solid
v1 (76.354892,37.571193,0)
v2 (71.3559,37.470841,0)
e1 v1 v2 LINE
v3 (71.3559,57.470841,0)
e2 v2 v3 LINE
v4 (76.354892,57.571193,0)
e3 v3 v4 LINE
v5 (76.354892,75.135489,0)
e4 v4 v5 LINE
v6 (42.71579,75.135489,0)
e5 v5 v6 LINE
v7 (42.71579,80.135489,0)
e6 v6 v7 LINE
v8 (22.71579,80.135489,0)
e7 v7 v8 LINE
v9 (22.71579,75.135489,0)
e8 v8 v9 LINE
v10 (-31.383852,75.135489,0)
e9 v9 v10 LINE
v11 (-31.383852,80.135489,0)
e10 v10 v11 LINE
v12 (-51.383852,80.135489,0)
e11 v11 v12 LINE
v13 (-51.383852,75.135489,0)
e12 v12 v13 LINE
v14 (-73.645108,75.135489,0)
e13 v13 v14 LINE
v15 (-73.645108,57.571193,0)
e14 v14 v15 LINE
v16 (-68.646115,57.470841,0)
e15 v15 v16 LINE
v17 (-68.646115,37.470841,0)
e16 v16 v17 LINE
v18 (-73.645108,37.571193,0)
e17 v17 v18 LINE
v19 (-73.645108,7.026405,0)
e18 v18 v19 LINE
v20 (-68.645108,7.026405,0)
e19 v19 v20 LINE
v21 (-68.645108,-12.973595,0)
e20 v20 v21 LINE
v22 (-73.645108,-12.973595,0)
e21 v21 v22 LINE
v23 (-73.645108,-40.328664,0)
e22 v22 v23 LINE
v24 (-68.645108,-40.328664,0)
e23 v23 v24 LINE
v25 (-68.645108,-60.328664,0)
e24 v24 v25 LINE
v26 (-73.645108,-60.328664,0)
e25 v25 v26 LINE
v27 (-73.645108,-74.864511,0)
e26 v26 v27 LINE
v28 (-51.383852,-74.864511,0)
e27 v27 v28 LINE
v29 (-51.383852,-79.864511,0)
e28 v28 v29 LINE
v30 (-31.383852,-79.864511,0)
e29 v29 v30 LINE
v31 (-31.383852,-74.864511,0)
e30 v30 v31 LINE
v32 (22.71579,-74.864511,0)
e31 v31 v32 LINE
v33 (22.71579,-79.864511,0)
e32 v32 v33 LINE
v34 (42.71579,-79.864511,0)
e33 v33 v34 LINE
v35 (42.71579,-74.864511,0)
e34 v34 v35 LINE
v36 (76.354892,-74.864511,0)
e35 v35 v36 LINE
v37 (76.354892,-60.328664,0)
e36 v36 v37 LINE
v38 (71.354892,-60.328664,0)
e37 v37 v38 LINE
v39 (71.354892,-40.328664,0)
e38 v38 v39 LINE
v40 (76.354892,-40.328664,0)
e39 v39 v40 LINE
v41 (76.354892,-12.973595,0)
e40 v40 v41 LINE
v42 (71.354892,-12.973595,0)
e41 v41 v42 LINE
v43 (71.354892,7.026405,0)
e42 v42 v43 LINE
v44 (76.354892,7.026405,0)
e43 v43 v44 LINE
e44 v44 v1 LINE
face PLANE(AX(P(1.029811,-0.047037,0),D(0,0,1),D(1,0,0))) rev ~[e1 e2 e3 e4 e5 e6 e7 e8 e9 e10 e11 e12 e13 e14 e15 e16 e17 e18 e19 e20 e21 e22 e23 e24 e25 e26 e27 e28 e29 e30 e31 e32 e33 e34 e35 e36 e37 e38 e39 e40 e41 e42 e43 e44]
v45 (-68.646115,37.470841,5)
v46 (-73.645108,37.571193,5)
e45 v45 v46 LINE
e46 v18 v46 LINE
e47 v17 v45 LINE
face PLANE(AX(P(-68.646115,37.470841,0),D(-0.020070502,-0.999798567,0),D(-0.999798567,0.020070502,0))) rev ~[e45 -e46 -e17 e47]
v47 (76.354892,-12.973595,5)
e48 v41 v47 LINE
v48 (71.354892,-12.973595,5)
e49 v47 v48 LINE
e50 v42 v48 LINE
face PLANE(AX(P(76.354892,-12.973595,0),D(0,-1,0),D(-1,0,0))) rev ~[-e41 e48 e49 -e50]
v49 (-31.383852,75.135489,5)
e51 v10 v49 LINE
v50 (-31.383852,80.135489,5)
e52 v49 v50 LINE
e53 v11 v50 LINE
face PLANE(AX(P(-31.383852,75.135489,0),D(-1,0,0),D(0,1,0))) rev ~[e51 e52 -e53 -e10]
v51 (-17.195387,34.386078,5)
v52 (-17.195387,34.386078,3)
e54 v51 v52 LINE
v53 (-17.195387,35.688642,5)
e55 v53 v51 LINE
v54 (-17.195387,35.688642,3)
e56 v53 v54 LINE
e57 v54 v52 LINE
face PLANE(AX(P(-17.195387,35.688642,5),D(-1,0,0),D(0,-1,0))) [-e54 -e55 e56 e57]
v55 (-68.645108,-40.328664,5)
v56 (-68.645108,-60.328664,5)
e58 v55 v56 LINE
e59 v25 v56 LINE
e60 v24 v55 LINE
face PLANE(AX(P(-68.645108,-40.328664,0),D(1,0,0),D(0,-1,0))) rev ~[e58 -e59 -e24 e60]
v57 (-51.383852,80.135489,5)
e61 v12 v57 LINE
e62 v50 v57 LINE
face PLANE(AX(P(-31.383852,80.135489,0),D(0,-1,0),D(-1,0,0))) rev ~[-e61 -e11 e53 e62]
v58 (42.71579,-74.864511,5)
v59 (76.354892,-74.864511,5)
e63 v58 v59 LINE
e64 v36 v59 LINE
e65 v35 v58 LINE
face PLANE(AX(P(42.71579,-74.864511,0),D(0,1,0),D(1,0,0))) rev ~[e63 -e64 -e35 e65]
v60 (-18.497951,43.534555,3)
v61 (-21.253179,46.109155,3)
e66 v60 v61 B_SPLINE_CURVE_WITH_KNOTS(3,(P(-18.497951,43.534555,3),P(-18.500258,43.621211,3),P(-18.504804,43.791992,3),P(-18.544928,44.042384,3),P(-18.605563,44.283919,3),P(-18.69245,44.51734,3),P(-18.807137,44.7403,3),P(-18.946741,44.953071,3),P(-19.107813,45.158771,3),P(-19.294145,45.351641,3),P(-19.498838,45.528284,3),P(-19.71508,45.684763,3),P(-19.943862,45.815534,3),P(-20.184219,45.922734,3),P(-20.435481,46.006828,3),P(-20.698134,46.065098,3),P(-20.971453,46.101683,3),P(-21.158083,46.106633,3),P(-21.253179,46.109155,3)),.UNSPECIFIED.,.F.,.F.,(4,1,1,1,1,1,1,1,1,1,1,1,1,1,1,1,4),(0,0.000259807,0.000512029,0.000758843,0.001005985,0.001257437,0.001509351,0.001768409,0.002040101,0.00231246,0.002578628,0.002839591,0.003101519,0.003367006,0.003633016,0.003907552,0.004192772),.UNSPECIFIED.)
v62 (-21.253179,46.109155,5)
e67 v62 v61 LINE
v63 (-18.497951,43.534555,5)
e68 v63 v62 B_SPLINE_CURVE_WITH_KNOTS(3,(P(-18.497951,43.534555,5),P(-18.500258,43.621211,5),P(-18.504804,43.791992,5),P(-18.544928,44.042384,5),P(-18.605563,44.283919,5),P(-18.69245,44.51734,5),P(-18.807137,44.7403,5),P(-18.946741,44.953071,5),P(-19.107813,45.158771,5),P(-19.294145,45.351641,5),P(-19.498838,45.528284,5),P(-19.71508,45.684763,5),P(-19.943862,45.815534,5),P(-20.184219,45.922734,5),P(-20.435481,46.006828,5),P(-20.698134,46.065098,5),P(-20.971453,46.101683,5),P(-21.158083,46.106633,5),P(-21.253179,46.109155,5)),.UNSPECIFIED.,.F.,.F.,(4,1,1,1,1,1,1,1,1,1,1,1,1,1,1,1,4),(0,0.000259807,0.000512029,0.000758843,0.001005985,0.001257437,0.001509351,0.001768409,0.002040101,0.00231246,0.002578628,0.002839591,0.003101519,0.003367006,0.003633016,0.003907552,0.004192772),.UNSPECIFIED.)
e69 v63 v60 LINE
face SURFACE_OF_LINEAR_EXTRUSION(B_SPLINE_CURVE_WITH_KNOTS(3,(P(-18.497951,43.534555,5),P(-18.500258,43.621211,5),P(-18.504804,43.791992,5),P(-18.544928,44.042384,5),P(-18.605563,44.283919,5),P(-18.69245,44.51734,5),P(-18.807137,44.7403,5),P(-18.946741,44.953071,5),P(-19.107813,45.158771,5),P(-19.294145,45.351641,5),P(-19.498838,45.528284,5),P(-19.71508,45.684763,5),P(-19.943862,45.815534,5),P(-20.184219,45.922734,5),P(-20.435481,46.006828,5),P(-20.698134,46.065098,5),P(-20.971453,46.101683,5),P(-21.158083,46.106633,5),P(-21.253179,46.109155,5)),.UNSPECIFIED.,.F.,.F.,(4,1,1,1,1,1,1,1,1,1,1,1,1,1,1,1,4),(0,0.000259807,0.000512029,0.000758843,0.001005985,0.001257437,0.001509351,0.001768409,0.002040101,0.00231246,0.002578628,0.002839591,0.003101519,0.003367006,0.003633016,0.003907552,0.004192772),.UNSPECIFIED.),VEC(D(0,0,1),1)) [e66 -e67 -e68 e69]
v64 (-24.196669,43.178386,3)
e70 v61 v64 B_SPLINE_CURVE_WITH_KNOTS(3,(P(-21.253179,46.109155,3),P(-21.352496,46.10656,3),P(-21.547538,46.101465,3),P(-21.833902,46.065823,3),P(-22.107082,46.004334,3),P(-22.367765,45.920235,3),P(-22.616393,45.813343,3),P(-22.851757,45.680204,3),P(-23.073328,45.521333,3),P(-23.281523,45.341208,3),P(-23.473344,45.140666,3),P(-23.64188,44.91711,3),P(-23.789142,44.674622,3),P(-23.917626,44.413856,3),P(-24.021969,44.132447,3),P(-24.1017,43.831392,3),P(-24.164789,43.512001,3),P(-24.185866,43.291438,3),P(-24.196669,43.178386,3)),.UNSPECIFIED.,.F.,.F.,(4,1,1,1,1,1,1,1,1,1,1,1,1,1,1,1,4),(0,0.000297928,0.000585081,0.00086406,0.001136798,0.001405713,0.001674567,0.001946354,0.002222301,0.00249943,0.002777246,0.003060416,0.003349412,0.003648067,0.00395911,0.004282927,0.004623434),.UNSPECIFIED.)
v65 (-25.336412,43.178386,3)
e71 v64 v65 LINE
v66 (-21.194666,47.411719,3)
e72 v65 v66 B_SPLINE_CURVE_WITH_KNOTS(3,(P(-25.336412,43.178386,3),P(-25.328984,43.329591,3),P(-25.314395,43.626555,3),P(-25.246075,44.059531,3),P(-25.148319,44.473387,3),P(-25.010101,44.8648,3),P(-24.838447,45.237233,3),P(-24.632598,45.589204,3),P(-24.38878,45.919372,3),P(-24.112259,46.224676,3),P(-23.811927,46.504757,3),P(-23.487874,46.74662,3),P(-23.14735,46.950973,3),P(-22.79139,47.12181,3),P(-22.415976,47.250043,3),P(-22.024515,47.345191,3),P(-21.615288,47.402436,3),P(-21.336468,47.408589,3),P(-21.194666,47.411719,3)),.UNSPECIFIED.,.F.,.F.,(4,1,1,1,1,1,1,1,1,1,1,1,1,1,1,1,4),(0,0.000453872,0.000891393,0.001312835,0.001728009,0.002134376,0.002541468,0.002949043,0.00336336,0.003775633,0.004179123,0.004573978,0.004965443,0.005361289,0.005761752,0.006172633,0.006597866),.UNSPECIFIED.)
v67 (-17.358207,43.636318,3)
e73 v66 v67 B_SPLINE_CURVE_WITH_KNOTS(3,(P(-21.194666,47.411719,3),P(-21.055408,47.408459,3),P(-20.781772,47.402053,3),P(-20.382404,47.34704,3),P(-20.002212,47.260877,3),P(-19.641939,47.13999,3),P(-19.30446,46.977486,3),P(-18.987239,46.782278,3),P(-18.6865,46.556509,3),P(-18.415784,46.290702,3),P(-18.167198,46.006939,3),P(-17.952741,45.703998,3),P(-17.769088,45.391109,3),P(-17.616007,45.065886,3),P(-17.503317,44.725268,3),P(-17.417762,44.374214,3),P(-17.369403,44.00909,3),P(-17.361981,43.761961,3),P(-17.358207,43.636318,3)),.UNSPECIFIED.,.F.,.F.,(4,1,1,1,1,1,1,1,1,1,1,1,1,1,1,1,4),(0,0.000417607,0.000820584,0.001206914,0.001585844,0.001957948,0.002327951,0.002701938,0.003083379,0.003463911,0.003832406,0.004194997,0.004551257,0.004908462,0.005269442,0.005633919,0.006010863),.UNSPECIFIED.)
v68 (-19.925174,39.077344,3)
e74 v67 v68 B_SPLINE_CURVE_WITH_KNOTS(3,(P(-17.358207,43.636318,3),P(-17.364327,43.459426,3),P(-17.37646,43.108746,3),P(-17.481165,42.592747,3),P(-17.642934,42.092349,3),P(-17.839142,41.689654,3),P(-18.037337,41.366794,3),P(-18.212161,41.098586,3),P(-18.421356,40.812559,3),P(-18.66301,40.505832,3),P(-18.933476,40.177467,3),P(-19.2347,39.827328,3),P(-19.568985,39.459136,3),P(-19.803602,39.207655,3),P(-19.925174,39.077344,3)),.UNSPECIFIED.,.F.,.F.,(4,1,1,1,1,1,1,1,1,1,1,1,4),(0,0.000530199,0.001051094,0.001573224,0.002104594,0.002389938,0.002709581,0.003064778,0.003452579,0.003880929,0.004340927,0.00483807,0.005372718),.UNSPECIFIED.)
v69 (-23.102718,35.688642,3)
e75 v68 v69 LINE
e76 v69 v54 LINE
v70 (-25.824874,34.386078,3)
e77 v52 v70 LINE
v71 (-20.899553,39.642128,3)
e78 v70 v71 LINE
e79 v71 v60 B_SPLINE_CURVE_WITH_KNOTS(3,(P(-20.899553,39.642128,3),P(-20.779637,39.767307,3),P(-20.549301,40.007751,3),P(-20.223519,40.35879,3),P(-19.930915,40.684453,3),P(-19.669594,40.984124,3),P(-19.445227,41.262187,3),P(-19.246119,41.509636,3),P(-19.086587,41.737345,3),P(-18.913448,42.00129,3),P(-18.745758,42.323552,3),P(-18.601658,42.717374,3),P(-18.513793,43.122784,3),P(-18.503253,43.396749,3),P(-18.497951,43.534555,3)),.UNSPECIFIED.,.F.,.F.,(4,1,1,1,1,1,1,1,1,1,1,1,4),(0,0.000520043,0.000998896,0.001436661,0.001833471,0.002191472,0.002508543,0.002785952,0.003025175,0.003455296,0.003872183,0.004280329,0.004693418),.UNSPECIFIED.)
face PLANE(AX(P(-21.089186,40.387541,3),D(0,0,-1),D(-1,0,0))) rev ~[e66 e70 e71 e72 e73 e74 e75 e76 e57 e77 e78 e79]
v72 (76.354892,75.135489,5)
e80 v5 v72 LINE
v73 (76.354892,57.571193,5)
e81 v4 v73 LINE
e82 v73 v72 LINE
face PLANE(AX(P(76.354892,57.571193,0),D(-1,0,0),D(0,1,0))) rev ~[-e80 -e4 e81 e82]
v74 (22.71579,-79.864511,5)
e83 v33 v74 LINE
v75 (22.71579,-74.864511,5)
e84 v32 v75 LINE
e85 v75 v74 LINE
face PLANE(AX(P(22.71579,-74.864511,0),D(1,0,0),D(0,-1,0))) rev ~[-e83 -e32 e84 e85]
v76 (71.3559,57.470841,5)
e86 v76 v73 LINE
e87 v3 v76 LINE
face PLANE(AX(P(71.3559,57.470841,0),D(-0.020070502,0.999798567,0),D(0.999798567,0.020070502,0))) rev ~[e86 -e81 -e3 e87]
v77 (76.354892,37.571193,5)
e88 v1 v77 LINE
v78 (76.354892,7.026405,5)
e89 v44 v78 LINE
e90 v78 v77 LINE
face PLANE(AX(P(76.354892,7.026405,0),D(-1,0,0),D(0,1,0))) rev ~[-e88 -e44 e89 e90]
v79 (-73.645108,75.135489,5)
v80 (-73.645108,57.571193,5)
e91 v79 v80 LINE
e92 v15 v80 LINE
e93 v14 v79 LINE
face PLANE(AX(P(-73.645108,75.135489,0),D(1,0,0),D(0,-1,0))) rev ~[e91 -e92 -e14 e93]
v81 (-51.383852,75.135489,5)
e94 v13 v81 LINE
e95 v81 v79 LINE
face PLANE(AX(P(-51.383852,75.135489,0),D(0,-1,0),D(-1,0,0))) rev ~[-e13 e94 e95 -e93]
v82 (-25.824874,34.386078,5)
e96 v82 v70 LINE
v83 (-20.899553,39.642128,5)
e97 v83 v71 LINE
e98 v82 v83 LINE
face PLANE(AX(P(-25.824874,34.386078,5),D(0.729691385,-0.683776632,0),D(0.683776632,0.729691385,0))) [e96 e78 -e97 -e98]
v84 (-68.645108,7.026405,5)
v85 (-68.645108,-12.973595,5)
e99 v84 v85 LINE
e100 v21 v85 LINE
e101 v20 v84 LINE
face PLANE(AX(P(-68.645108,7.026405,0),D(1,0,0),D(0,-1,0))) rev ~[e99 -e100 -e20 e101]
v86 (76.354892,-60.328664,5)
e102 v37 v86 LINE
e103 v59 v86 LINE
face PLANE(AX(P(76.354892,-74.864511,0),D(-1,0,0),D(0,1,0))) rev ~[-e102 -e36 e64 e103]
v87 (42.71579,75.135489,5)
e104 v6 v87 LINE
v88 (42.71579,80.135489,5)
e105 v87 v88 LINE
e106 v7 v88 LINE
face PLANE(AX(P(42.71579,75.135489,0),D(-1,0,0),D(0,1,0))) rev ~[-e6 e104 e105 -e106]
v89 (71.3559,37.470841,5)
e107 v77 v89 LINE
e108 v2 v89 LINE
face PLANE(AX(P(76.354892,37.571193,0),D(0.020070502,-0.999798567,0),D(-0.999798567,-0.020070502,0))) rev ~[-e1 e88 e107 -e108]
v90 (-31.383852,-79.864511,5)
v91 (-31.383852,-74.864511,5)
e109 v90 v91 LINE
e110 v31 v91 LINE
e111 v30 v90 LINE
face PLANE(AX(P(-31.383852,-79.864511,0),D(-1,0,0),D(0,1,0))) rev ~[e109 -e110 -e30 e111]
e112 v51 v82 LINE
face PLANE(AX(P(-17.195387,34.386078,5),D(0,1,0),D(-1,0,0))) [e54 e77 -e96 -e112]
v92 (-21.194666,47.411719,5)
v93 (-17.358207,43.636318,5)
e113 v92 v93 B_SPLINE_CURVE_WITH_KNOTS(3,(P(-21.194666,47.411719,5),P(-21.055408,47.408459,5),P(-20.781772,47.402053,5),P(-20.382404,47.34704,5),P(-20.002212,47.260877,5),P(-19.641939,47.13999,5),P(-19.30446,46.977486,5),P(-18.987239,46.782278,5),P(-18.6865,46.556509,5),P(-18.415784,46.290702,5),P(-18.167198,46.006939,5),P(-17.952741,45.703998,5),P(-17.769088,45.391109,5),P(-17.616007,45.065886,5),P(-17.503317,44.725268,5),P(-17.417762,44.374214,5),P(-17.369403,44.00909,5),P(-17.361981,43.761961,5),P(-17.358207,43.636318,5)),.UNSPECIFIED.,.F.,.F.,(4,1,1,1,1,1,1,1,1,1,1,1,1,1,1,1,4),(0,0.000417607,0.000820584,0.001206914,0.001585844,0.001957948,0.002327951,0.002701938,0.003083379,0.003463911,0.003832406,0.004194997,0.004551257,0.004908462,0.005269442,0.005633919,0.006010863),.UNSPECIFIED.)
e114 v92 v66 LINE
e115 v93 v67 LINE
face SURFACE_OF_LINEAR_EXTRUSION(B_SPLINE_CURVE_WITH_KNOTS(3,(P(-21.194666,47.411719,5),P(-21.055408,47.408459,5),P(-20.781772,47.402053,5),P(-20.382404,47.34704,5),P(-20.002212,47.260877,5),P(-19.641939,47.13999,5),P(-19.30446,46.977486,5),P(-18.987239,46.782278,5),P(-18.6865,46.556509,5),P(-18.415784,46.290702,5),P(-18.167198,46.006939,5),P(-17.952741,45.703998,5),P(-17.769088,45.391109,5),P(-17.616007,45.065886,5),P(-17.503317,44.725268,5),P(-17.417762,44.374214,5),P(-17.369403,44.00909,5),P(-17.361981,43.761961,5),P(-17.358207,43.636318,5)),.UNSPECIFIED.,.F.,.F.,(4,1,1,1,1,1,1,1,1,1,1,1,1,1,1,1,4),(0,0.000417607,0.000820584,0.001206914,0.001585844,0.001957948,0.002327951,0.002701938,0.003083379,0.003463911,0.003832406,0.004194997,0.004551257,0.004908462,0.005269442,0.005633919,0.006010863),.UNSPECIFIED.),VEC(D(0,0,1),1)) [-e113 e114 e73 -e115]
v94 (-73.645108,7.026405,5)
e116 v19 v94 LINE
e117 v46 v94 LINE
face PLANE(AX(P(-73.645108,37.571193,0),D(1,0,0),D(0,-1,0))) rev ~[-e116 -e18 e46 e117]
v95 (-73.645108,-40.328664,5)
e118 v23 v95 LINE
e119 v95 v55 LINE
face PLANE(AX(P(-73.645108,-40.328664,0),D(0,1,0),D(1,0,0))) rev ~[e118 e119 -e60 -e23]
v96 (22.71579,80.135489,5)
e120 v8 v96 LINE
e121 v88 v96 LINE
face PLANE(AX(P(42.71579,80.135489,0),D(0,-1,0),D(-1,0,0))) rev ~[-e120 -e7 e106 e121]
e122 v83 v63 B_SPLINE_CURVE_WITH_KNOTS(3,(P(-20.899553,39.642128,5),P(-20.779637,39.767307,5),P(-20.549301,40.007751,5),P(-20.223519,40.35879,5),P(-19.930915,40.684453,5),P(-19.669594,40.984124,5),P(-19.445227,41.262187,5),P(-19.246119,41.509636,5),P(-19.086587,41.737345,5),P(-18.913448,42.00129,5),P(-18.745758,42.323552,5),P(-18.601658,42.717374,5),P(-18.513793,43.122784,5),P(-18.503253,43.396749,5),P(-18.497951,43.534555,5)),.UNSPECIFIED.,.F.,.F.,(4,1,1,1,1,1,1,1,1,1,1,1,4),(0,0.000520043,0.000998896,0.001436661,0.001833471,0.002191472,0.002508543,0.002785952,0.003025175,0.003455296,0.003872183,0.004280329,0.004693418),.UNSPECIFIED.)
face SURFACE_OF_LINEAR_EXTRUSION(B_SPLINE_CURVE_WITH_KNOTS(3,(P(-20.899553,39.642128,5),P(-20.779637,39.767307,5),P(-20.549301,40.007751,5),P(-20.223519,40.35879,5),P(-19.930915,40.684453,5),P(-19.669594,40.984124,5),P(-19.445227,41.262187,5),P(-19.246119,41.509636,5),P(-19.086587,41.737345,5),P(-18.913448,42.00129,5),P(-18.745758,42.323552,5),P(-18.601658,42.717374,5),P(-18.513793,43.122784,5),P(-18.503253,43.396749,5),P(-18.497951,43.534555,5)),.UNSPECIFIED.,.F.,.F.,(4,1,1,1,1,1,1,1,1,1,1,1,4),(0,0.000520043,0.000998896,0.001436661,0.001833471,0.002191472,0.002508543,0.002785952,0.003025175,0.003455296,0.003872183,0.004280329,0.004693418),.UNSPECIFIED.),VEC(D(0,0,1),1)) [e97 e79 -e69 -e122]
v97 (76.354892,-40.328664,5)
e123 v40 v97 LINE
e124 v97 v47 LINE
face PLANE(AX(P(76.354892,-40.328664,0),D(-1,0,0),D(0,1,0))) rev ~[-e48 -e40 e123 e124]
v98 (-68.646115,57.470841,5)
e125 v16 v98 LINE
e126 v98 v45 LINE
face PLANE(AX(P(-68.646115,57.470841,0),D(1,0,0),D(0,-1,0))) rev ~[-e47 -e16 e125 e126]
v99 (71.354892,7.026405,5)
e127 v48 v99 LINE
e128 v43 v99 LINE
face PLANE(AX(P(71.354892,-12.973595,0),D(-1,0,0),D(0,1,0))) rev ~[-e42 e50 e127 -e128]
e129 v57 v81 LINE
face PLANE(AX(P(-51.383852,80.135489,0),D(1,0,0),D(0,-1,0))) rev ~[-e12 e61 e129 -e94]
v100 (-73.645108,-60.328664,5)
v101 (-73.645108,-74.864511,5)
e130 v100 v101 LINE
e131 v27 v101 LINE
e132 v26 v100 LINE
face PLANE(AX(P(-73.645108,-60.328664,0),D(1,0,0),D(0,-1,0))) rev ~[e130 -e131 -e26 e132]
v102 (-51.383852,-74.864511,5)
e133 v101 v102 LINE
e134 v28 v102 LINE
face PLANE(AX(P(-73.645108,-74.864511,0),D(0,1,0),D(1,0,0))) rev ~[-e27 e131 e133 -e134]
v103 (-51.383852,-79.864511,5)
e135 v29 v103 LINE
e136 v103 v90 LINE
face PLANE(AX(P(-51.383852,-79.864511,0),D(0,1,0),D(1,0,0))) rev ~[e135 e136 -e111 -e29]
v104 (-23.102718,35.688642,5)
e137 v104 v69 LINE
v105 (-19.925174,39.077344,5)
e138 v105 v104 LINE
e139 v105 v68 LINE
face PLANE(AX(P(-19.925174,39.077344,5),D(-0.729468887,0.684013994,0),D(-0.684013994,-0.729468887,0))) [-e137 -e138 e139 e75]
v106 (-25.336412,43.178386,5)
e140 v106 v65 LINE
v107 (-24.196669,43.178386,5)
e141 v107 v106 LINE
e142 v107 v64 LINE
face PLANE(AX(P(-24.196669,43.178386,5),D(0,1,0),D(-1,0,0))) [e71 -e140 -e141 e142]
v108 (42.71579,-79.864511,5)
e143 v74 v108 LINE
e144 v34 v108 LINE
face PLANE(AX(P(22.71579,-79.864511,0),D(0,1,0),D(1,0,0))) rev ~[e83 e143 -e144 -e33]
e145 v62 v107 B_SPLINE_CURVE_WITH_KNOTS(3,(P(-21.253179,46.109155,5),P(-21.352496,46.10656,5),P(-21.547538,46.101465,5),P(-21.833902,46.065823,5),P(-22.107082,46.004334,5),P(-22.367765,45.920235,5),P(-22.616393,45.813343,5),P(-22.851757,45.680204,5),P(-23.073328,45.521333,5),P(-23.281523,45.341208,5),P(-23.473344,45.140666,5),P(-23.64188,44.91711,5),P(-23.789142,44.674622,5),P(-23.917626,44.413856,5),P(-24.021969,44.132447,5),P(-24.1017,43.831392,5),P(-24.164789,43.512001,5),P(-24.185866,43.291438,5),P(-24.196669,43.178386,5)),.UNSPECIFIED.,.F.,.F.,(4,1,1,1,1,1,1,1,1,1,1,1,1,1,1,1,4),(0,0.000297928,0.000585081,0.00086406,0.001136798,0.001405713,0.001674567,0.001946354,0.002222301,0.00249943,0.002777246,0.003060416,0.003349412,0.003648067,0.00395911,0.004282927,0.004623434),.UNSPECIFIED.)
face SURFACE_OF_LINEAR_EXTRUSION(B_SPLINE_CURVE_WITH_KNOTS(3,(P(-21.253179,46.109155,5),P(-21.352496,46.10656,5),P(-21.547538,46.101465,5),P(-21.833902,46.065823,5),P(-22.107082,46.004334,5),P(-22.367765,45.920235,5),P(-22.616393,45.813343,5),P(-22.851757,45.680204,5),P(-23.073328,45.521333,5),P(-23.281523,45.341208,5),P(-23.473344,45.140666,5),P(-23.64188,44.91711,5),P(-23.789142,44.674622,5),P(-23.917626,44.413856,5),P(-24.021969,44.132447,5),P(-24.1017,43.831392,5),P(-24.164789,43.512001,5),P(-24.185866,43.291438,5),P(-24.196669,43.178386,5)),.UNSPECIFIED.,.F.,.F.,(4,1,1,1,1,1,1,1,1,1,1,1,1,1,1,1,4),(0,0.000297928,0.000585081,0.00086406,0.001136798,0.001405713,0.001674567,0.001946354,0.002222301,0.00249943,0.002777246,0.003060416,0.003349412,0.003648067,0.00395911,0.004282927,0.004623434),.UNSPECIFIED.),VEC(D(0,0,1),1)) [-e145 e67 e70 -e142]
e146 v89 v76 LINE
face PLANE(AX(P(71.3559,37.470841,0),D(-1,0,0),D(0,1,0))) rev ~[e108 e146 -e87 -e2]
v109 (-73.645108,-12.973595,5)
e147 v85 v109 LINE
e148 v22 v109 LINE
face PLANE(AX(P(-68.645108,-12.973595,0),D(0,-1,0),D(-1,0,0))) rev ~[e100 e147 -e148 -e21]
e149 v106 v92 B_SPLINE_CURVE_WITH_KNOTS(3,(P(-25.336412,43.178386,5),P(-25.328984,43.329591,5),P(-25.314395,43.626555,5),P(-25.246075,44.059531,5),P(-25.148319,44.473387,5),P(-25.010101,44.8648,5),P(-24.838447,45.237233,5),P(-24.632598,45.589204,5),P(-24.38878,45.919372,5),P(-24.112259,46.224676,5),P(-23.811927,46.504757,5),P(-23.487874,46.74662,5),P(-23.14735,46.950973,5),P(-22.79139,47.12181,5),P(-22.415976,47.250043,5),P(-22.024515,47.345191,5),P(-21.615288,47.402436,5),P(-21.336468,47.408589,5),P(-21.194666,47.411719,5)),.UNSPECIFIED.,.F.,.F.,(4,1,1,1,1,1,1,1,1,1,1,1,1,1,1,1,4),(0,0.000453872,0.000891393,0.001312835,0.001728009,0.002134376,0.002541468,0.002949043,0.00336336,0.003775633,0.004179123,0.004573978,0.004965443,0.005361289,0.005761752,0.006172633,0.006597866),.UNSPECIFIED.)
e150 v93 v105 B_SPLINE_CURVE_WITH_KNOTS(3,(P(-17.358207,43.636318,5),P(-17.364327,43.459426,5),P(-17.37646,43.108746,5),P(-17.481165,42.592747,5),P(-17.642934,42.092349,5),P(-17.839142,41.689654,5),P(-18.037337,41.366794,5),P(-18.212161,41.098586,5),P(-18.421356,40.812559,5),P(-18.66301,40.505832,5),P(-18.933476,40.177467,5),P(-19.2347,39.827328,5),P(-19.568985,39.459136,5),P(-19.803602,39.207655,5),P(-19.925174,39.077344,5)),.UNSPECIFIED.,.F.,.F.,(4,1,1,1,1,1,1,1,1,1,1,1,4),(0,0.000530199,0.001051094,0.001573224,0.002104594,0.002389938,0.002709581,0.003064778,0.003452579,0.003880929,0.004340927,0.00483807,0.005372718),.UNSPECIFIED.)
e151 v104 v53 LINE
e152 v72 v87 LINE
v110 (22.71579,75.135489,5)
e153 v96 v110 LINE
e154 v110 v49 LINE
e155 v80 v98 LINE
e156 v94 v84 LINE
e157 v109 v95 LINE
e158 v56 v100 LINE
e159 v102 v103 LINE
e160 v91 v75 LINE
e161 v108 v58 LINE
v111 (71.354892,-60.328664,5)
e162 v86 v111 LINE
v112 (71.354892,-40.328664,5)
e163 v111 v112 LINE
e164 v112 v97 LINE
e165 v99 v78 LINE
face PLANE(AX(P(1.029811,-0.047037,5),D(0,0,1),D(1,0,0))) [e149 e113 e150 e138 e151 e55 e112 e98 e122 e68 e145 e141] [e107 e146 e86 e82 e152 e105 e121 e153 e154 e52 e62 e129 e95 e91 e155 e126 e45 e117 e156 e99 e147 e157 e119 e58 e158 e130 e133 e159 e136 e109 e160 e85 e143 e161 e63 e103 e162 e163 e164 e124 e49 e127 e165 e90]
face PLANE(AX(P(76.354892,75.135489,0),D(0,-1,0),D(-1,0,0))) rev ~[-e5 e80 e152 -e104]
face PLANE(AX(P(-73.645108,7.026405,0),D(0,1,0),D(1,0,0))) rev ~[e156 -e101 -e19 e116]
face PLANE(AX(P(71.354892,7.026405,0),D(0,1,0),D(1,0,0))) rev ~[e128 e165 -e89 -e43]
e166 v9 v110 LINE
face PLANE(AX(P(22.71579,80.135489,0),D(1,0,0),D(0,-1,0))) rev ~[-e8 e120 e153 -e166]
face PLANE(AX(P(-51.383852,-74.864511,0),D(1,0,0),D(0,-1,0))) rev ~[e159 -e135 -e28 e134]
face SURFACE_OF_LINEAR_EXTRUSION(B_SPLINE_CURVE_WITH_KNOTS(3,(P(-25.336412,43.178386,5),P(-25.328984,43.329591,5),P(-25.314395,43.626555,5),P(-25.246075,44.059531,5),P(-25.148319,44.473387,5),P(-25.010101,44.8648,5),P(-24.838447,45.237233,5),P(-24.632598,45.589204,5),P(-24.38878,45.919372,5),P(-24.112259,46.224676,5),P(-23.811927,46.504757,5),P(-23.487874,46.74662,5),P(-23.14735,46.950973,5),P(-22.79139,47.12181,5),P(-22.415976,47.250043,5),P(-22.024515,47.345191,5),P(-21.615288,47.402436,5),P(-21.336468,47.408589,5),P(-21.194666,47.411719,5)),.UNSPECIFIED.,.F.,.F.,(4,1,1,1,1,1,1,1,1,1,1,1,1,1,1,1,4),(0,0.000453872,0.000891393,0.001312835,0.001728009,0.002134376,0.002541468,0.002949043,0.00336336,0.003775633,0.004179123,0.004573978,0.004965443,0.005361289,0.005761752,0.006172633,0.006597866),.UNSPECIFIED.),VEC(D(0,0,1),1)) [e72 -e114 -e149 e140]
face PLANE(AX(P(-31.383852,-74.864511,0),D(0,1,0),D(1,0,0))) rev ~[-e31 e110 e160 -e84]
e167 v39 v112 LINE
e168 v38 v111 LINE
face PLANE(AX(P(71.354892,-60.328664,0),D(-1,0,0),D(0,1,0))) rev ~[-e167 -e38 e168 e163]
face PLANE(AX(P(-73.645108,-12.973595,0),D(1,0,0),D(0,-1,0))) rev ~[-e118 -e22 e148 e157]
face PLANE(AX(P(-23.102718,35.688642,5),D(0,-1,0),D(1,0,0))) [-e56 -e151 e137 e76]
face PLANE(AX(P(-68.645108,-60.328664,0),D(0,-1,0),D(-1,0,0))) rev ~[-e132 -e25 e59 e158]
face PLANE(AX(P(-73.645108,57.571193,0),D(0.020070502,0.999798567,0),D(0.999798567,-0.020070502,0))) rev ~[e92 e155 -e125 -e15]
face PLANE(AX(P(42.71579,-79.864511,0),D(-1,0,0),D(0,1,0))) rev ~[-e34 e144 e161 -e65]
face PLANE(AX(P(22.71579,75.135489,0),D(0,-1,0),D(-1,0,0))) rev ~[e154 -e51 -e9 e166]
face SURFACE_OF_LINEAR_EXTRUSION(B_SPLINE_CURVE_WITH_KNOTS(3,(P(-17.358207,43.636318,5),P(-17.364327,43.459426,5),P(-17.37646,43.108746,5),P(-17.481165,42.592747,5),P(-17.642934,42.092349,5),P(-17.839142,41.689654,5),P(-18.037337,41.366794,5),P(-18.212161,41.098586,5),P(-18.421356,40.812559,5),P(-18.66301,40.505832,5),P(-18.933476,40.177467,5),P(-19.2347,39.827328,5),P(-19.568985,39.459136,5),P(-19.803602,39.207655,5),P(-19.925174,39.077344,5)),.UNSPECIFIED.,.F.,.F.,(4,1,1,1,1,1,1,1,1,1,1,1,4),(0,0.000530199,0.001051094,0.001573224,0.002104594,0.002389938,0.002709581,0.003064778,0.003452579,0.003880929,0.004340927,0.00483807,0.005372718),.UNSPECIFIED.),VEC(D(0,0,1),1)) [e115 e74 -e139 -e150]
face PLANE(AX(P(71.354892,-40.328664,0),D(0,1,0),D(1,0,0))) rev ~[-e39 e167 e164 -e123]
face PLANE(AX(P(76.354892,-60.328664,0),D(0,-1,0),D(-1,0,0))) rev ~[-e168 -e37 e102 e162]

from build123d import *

# Parameters (mm, degrees)
BOSS_EXTRUDE1_DEPTH = 5
CUT_EXTRUDE1_DEPTH  = 2


with BuildPart() as part:
    # Sketch1 → Boss-Extrude1 (new body)
    with BuildSketch(Plane.XY):
        Polygon((-73.645107518, -74.864510752), (-51.383851785, -74.864510752), (-51.383851785, -79.864510752), (-31.383851785, -79.864510752), (-31.383851785, -74.864510752), (22.715789763, -74.864510752), (22.715789763, -79.864510752), (42.715789763, -79.864510752), (42.715789763, -74.864510752), (76.354892482, -74.864510752), (76.354892482, -60.328664174), (71.354892482, -60.328664174), (71.354892482, -40.328664174), (76.354892482, -40.328664174), (76.354892482, -12.973595237), (71.354892482, -12.973595237), (71.354892482, 7.026404763), (76.354892482, 7.026404763), (76.354892482, 37.571193369), (71.355899646, 37.470840861), (71.355899646, 57.470840861), (76.354892482, 57.571193369), (76.354892482, 75.135489248), (42.715789763, 75.135489248), (42.715789763, 80.135489248), (22.715789763, 80.135489248), (22.715789763, 75.135489248), (-31.383851785, 75.135489248), (-31.383851785, 80.135489248), (-51.383851785, 80.135489248), (-51.383851785, 75.135489248), (-73.645107518, 75.135489248), (-73.645107518, 57.571193369), (-68.646114682, 57.470840861), (-68.646114682, 37.470840861), (-73.645107518, 37.571193369), (-73.645107518, 7.026404763), (-68.645107518, 7.026404763), (-68.645107518, -12.973595237), (-73.645107518, -12.973595237), (-73.645107518, -40.328664174), (-68.645107518, -40.328664174), (-68.645107518, -60.328664174), (-73.645107518, -60.328664174), align=None)
    extrude(amount=BOSS_EXTRUDE1_DEPTH)

    # Sketch2 → Cut-Extrude1 (cut)
    with BuildSketch(Plane.XY.offset(5)):
        with BuildLine():
            Line((-24.19666878, 43.178385546), (-25.33641237, 43.178385546))
            add(Edge.make_bspline(
                [(-25.33641237, 43.178385546), (-25.328984129, 43.329591339), (-25.314395262, 43.626555492), (-25.246075469, 44.059530809), (-25.148318572, 44.473386793), (-25.01010101, 44.864800481), (-24.838446802, 45.237232725), (-24.632597846, 45.58920421), (-24.38878016, 45.919372238), (-24.112258582, 46.22467604), (-23.811926663, 46.504756655), (-23.487873683, 46.746619964), (-23.147350298, 46.950972657), (-22.791389622, 47.121810306), (-22.415975577, 47.250043461), (-22.024514921, 47.345190554), (-21.615287769, 47.402436151), (-21.33646826, 47.40858943), (-21.194665575, 47.41171888)],
                knots=[0, 0, 0, 0, 0.000453872, 0.000891393, 0.001312835, 0.001728009, 0.002134376, 0.002541468, 0.002949043, 0.00336336, 0.003775633, 0.004179123, 0.004573978, 0.004965443, 0.005361289, 0.005761752, 0.006172633, 0.006597866, 0.006597866, 0.006597866, 0.006597866], degree=3))
            add(Edge.make_bspline(
                [(-21.194665575, 47.41171888), (-21.055407992, 47.408458766), (-20.781771816, 47.40205276), (-20.382403935, 47.347039882), (-20.002212038, 47.260877307), (-19.641939285, 47.139989939), (-19.304460136, 46.977486445), (-18.987239375, 46.782278234), (-18.686500433, 46.556509131), (-18.415784389, 46.290702437), (-18.16719793, 46.006939499), (-17.952741176, 45.703997677), (-17.769087697, 45.391108555), (-17.616006687, 45.065886223), (-17.503317269, 44.725268492), (-17.417762057, 44.374214356), (-17.369402584, 44.009090042), (-17.361980619, 43.76196054), (-17.358207242, 43.636318239)],
                knots=[0, 0, 0, 0, 0.000417607, 0.000820584, 0.001206914, 0.001585844, 0.001957948, 0.002327951, 0.002701938, 0.003083379, 0.003463911, 0.003832406, 0.004194997, 0.004551257, 0.004908462, 0.005269442, 0.005633919, 0.006010863, 0.006010863, 0.006010863, 0.006010863], degree=3))
            add(Edge.make_bspline(
                [(-17.358207242, 43.636318239), (-17.364327354, 43.459426074), (-17.376460178, 43.108745951), (-17.481165156, 42.592747282), (-17.642934479, 42.092348925), (-17.839142328, 41.689653506), (-18.037336959, 41.366794494), (-18.212160789, 41.09858631), (-18.421356469, 40.812559028), (-18.66300994, 40.505831861), (-18.933475694, 40.177466576), (-19.234700346, 39.827328424), (-19.568984994, 39.459136174), (-19.803601825, 39.207655081), (-19.925174389, 39.07734388)],
                knots=[0, 0, 0, 0, 0.000530199, 0.001051094, 0.001573224, 0.002104594, 0.002389938, 0.002709581, 0.003064778, 0.003452579, 0.003880929, 0.004340927, 0.00483807, 0.005372718, 0.005372718, 0.005372718, 0.005372718], degree=3))
            Line((-19.925174389, 39.07734388), (-23.10271846, 35.688641956))
            Line((-23.10271846, 35.688641956), (-17.195386729, 35.688641956))
            Line((-17.195386729, 35.688641956), (-17.195386729, 34.386077854))
            Line((-17.195386729, 34.386077854), (-25.824873909, 34.386077854))
            Line((-25.824873909, 34.386077854), (-20.899553396, 39.642127533))
            add(Edge.make_bspline(
                [(-20.899553396, 39.642127533), (-20.779636778, 39.767307103), (-20.549301497, 40.007751437), (-20.223519004, 40.358790178), (-19.930914675, 40.684452798), (-19.669594421, 40.984123988), (-19.44522713, 41.262187105), (-19.246119317, 41.509636458), (-19.08658703, 41.737345463), (-18.913448308, 42.001289977), (-18.745757576, 42.323551813), (-18.601658455, 42.717374057), (-18.513793148, 43.122784374), (-18.503252745, 43.396748909), (-18.497950832, 43.534555418)],
                knots=[0, 0, 0, 0, 0.000520043, 0.000998896, 0.001436661, 0.001833471, 0.002191472, 0.002508543, 0.002785952, 0.003025175, 0.003455296, 0.003872183, 0.004280329, 0.004693418, 0.004693418, 0.004693418, 0.004693418], degree=3))
            add(Edge.make_bspline(
                [(-18.497950832, 43.534555418), (-18.500257668, 43.621210778), (-18.504803999, 43.791991852), (-18.544927645, 44.042384178), (-18.60556291, 44.283919359), (-18.692449989, 44.517340349), (-18.807137303, 44.740300286), (-18.94674071, 44.953070571), (-19.107813226, 45.158770531), (-19.294144974, 45.35164107), (-19.498838203, 45.528284301), (-19.715080195, 45.684763125), (-19.943862002, 45.815533613), (-20.184219016, 45.922734303), (-20.435481148, 46.006827829), (-20.698134366, 46.065097531), (-20.97145294, 46.101682544), (-21.158083053, 46.10663254), (-21.253179197, 46.109154777)],
                knots=[0, 0, 0, 0, 0.000259807, 0.000512029, 0.000758843, 0.001005985, 0.001257437, 0.001509351, 0.001768409, 0.002040101, 0.00231246, 0.002578628, 0.002839591, 0.003101519, 0.003367006, 0.003633016, 0.003907552, 0.004192772, 0.004192772, 0.004192772, 0.004192772], degree=3))
            add(Edge.make_bspline(
                [(-21.253179197, 46.109154777), (-21.352496219, 46.106560231), (-21.547538451, 46.101464972), (-21.833901799, 46.065822734), (-22.10708162, 46.004333542), (-22.367765097, 45.920235323), (-22.616393308, 45.813342875), (-22.851757125, 45.680204258), (-23.07332818, 45.521332726), (-23.281522993, 45.341208422), (-23.473343717, 45.140665983), (-23.641879524, 44.917109831), (-23.789141518, 44.674621781), (-23.917626451, 44.413856126), (-24.021968527, 44.132446696), (-24.101699673, 43.831392453), (-24.164789088, 43.512000583), (-24.18586572, 43.291437561), (-24.19666878, 43.178385546)],
                knots=[0, 0, 0, 0, 0.000297928, 0.000585081, 0.00086406, 0.001136798, 0.001405713, 0.001674567, 0.001946354, 0.002222301, 0.00249943, 0.002777246, 0.003060416, 0.003349412, 0.003648067, 0.00395911, 0.004282927, 0.004623434, 0.004623434, 0.004623434, 0.004623434], degree=3))
        make_face()
    extrude(amount=-CUT_EXTRUDE1_DEPTH, mode=Mode.SUBTRACT)


solid = part.part
